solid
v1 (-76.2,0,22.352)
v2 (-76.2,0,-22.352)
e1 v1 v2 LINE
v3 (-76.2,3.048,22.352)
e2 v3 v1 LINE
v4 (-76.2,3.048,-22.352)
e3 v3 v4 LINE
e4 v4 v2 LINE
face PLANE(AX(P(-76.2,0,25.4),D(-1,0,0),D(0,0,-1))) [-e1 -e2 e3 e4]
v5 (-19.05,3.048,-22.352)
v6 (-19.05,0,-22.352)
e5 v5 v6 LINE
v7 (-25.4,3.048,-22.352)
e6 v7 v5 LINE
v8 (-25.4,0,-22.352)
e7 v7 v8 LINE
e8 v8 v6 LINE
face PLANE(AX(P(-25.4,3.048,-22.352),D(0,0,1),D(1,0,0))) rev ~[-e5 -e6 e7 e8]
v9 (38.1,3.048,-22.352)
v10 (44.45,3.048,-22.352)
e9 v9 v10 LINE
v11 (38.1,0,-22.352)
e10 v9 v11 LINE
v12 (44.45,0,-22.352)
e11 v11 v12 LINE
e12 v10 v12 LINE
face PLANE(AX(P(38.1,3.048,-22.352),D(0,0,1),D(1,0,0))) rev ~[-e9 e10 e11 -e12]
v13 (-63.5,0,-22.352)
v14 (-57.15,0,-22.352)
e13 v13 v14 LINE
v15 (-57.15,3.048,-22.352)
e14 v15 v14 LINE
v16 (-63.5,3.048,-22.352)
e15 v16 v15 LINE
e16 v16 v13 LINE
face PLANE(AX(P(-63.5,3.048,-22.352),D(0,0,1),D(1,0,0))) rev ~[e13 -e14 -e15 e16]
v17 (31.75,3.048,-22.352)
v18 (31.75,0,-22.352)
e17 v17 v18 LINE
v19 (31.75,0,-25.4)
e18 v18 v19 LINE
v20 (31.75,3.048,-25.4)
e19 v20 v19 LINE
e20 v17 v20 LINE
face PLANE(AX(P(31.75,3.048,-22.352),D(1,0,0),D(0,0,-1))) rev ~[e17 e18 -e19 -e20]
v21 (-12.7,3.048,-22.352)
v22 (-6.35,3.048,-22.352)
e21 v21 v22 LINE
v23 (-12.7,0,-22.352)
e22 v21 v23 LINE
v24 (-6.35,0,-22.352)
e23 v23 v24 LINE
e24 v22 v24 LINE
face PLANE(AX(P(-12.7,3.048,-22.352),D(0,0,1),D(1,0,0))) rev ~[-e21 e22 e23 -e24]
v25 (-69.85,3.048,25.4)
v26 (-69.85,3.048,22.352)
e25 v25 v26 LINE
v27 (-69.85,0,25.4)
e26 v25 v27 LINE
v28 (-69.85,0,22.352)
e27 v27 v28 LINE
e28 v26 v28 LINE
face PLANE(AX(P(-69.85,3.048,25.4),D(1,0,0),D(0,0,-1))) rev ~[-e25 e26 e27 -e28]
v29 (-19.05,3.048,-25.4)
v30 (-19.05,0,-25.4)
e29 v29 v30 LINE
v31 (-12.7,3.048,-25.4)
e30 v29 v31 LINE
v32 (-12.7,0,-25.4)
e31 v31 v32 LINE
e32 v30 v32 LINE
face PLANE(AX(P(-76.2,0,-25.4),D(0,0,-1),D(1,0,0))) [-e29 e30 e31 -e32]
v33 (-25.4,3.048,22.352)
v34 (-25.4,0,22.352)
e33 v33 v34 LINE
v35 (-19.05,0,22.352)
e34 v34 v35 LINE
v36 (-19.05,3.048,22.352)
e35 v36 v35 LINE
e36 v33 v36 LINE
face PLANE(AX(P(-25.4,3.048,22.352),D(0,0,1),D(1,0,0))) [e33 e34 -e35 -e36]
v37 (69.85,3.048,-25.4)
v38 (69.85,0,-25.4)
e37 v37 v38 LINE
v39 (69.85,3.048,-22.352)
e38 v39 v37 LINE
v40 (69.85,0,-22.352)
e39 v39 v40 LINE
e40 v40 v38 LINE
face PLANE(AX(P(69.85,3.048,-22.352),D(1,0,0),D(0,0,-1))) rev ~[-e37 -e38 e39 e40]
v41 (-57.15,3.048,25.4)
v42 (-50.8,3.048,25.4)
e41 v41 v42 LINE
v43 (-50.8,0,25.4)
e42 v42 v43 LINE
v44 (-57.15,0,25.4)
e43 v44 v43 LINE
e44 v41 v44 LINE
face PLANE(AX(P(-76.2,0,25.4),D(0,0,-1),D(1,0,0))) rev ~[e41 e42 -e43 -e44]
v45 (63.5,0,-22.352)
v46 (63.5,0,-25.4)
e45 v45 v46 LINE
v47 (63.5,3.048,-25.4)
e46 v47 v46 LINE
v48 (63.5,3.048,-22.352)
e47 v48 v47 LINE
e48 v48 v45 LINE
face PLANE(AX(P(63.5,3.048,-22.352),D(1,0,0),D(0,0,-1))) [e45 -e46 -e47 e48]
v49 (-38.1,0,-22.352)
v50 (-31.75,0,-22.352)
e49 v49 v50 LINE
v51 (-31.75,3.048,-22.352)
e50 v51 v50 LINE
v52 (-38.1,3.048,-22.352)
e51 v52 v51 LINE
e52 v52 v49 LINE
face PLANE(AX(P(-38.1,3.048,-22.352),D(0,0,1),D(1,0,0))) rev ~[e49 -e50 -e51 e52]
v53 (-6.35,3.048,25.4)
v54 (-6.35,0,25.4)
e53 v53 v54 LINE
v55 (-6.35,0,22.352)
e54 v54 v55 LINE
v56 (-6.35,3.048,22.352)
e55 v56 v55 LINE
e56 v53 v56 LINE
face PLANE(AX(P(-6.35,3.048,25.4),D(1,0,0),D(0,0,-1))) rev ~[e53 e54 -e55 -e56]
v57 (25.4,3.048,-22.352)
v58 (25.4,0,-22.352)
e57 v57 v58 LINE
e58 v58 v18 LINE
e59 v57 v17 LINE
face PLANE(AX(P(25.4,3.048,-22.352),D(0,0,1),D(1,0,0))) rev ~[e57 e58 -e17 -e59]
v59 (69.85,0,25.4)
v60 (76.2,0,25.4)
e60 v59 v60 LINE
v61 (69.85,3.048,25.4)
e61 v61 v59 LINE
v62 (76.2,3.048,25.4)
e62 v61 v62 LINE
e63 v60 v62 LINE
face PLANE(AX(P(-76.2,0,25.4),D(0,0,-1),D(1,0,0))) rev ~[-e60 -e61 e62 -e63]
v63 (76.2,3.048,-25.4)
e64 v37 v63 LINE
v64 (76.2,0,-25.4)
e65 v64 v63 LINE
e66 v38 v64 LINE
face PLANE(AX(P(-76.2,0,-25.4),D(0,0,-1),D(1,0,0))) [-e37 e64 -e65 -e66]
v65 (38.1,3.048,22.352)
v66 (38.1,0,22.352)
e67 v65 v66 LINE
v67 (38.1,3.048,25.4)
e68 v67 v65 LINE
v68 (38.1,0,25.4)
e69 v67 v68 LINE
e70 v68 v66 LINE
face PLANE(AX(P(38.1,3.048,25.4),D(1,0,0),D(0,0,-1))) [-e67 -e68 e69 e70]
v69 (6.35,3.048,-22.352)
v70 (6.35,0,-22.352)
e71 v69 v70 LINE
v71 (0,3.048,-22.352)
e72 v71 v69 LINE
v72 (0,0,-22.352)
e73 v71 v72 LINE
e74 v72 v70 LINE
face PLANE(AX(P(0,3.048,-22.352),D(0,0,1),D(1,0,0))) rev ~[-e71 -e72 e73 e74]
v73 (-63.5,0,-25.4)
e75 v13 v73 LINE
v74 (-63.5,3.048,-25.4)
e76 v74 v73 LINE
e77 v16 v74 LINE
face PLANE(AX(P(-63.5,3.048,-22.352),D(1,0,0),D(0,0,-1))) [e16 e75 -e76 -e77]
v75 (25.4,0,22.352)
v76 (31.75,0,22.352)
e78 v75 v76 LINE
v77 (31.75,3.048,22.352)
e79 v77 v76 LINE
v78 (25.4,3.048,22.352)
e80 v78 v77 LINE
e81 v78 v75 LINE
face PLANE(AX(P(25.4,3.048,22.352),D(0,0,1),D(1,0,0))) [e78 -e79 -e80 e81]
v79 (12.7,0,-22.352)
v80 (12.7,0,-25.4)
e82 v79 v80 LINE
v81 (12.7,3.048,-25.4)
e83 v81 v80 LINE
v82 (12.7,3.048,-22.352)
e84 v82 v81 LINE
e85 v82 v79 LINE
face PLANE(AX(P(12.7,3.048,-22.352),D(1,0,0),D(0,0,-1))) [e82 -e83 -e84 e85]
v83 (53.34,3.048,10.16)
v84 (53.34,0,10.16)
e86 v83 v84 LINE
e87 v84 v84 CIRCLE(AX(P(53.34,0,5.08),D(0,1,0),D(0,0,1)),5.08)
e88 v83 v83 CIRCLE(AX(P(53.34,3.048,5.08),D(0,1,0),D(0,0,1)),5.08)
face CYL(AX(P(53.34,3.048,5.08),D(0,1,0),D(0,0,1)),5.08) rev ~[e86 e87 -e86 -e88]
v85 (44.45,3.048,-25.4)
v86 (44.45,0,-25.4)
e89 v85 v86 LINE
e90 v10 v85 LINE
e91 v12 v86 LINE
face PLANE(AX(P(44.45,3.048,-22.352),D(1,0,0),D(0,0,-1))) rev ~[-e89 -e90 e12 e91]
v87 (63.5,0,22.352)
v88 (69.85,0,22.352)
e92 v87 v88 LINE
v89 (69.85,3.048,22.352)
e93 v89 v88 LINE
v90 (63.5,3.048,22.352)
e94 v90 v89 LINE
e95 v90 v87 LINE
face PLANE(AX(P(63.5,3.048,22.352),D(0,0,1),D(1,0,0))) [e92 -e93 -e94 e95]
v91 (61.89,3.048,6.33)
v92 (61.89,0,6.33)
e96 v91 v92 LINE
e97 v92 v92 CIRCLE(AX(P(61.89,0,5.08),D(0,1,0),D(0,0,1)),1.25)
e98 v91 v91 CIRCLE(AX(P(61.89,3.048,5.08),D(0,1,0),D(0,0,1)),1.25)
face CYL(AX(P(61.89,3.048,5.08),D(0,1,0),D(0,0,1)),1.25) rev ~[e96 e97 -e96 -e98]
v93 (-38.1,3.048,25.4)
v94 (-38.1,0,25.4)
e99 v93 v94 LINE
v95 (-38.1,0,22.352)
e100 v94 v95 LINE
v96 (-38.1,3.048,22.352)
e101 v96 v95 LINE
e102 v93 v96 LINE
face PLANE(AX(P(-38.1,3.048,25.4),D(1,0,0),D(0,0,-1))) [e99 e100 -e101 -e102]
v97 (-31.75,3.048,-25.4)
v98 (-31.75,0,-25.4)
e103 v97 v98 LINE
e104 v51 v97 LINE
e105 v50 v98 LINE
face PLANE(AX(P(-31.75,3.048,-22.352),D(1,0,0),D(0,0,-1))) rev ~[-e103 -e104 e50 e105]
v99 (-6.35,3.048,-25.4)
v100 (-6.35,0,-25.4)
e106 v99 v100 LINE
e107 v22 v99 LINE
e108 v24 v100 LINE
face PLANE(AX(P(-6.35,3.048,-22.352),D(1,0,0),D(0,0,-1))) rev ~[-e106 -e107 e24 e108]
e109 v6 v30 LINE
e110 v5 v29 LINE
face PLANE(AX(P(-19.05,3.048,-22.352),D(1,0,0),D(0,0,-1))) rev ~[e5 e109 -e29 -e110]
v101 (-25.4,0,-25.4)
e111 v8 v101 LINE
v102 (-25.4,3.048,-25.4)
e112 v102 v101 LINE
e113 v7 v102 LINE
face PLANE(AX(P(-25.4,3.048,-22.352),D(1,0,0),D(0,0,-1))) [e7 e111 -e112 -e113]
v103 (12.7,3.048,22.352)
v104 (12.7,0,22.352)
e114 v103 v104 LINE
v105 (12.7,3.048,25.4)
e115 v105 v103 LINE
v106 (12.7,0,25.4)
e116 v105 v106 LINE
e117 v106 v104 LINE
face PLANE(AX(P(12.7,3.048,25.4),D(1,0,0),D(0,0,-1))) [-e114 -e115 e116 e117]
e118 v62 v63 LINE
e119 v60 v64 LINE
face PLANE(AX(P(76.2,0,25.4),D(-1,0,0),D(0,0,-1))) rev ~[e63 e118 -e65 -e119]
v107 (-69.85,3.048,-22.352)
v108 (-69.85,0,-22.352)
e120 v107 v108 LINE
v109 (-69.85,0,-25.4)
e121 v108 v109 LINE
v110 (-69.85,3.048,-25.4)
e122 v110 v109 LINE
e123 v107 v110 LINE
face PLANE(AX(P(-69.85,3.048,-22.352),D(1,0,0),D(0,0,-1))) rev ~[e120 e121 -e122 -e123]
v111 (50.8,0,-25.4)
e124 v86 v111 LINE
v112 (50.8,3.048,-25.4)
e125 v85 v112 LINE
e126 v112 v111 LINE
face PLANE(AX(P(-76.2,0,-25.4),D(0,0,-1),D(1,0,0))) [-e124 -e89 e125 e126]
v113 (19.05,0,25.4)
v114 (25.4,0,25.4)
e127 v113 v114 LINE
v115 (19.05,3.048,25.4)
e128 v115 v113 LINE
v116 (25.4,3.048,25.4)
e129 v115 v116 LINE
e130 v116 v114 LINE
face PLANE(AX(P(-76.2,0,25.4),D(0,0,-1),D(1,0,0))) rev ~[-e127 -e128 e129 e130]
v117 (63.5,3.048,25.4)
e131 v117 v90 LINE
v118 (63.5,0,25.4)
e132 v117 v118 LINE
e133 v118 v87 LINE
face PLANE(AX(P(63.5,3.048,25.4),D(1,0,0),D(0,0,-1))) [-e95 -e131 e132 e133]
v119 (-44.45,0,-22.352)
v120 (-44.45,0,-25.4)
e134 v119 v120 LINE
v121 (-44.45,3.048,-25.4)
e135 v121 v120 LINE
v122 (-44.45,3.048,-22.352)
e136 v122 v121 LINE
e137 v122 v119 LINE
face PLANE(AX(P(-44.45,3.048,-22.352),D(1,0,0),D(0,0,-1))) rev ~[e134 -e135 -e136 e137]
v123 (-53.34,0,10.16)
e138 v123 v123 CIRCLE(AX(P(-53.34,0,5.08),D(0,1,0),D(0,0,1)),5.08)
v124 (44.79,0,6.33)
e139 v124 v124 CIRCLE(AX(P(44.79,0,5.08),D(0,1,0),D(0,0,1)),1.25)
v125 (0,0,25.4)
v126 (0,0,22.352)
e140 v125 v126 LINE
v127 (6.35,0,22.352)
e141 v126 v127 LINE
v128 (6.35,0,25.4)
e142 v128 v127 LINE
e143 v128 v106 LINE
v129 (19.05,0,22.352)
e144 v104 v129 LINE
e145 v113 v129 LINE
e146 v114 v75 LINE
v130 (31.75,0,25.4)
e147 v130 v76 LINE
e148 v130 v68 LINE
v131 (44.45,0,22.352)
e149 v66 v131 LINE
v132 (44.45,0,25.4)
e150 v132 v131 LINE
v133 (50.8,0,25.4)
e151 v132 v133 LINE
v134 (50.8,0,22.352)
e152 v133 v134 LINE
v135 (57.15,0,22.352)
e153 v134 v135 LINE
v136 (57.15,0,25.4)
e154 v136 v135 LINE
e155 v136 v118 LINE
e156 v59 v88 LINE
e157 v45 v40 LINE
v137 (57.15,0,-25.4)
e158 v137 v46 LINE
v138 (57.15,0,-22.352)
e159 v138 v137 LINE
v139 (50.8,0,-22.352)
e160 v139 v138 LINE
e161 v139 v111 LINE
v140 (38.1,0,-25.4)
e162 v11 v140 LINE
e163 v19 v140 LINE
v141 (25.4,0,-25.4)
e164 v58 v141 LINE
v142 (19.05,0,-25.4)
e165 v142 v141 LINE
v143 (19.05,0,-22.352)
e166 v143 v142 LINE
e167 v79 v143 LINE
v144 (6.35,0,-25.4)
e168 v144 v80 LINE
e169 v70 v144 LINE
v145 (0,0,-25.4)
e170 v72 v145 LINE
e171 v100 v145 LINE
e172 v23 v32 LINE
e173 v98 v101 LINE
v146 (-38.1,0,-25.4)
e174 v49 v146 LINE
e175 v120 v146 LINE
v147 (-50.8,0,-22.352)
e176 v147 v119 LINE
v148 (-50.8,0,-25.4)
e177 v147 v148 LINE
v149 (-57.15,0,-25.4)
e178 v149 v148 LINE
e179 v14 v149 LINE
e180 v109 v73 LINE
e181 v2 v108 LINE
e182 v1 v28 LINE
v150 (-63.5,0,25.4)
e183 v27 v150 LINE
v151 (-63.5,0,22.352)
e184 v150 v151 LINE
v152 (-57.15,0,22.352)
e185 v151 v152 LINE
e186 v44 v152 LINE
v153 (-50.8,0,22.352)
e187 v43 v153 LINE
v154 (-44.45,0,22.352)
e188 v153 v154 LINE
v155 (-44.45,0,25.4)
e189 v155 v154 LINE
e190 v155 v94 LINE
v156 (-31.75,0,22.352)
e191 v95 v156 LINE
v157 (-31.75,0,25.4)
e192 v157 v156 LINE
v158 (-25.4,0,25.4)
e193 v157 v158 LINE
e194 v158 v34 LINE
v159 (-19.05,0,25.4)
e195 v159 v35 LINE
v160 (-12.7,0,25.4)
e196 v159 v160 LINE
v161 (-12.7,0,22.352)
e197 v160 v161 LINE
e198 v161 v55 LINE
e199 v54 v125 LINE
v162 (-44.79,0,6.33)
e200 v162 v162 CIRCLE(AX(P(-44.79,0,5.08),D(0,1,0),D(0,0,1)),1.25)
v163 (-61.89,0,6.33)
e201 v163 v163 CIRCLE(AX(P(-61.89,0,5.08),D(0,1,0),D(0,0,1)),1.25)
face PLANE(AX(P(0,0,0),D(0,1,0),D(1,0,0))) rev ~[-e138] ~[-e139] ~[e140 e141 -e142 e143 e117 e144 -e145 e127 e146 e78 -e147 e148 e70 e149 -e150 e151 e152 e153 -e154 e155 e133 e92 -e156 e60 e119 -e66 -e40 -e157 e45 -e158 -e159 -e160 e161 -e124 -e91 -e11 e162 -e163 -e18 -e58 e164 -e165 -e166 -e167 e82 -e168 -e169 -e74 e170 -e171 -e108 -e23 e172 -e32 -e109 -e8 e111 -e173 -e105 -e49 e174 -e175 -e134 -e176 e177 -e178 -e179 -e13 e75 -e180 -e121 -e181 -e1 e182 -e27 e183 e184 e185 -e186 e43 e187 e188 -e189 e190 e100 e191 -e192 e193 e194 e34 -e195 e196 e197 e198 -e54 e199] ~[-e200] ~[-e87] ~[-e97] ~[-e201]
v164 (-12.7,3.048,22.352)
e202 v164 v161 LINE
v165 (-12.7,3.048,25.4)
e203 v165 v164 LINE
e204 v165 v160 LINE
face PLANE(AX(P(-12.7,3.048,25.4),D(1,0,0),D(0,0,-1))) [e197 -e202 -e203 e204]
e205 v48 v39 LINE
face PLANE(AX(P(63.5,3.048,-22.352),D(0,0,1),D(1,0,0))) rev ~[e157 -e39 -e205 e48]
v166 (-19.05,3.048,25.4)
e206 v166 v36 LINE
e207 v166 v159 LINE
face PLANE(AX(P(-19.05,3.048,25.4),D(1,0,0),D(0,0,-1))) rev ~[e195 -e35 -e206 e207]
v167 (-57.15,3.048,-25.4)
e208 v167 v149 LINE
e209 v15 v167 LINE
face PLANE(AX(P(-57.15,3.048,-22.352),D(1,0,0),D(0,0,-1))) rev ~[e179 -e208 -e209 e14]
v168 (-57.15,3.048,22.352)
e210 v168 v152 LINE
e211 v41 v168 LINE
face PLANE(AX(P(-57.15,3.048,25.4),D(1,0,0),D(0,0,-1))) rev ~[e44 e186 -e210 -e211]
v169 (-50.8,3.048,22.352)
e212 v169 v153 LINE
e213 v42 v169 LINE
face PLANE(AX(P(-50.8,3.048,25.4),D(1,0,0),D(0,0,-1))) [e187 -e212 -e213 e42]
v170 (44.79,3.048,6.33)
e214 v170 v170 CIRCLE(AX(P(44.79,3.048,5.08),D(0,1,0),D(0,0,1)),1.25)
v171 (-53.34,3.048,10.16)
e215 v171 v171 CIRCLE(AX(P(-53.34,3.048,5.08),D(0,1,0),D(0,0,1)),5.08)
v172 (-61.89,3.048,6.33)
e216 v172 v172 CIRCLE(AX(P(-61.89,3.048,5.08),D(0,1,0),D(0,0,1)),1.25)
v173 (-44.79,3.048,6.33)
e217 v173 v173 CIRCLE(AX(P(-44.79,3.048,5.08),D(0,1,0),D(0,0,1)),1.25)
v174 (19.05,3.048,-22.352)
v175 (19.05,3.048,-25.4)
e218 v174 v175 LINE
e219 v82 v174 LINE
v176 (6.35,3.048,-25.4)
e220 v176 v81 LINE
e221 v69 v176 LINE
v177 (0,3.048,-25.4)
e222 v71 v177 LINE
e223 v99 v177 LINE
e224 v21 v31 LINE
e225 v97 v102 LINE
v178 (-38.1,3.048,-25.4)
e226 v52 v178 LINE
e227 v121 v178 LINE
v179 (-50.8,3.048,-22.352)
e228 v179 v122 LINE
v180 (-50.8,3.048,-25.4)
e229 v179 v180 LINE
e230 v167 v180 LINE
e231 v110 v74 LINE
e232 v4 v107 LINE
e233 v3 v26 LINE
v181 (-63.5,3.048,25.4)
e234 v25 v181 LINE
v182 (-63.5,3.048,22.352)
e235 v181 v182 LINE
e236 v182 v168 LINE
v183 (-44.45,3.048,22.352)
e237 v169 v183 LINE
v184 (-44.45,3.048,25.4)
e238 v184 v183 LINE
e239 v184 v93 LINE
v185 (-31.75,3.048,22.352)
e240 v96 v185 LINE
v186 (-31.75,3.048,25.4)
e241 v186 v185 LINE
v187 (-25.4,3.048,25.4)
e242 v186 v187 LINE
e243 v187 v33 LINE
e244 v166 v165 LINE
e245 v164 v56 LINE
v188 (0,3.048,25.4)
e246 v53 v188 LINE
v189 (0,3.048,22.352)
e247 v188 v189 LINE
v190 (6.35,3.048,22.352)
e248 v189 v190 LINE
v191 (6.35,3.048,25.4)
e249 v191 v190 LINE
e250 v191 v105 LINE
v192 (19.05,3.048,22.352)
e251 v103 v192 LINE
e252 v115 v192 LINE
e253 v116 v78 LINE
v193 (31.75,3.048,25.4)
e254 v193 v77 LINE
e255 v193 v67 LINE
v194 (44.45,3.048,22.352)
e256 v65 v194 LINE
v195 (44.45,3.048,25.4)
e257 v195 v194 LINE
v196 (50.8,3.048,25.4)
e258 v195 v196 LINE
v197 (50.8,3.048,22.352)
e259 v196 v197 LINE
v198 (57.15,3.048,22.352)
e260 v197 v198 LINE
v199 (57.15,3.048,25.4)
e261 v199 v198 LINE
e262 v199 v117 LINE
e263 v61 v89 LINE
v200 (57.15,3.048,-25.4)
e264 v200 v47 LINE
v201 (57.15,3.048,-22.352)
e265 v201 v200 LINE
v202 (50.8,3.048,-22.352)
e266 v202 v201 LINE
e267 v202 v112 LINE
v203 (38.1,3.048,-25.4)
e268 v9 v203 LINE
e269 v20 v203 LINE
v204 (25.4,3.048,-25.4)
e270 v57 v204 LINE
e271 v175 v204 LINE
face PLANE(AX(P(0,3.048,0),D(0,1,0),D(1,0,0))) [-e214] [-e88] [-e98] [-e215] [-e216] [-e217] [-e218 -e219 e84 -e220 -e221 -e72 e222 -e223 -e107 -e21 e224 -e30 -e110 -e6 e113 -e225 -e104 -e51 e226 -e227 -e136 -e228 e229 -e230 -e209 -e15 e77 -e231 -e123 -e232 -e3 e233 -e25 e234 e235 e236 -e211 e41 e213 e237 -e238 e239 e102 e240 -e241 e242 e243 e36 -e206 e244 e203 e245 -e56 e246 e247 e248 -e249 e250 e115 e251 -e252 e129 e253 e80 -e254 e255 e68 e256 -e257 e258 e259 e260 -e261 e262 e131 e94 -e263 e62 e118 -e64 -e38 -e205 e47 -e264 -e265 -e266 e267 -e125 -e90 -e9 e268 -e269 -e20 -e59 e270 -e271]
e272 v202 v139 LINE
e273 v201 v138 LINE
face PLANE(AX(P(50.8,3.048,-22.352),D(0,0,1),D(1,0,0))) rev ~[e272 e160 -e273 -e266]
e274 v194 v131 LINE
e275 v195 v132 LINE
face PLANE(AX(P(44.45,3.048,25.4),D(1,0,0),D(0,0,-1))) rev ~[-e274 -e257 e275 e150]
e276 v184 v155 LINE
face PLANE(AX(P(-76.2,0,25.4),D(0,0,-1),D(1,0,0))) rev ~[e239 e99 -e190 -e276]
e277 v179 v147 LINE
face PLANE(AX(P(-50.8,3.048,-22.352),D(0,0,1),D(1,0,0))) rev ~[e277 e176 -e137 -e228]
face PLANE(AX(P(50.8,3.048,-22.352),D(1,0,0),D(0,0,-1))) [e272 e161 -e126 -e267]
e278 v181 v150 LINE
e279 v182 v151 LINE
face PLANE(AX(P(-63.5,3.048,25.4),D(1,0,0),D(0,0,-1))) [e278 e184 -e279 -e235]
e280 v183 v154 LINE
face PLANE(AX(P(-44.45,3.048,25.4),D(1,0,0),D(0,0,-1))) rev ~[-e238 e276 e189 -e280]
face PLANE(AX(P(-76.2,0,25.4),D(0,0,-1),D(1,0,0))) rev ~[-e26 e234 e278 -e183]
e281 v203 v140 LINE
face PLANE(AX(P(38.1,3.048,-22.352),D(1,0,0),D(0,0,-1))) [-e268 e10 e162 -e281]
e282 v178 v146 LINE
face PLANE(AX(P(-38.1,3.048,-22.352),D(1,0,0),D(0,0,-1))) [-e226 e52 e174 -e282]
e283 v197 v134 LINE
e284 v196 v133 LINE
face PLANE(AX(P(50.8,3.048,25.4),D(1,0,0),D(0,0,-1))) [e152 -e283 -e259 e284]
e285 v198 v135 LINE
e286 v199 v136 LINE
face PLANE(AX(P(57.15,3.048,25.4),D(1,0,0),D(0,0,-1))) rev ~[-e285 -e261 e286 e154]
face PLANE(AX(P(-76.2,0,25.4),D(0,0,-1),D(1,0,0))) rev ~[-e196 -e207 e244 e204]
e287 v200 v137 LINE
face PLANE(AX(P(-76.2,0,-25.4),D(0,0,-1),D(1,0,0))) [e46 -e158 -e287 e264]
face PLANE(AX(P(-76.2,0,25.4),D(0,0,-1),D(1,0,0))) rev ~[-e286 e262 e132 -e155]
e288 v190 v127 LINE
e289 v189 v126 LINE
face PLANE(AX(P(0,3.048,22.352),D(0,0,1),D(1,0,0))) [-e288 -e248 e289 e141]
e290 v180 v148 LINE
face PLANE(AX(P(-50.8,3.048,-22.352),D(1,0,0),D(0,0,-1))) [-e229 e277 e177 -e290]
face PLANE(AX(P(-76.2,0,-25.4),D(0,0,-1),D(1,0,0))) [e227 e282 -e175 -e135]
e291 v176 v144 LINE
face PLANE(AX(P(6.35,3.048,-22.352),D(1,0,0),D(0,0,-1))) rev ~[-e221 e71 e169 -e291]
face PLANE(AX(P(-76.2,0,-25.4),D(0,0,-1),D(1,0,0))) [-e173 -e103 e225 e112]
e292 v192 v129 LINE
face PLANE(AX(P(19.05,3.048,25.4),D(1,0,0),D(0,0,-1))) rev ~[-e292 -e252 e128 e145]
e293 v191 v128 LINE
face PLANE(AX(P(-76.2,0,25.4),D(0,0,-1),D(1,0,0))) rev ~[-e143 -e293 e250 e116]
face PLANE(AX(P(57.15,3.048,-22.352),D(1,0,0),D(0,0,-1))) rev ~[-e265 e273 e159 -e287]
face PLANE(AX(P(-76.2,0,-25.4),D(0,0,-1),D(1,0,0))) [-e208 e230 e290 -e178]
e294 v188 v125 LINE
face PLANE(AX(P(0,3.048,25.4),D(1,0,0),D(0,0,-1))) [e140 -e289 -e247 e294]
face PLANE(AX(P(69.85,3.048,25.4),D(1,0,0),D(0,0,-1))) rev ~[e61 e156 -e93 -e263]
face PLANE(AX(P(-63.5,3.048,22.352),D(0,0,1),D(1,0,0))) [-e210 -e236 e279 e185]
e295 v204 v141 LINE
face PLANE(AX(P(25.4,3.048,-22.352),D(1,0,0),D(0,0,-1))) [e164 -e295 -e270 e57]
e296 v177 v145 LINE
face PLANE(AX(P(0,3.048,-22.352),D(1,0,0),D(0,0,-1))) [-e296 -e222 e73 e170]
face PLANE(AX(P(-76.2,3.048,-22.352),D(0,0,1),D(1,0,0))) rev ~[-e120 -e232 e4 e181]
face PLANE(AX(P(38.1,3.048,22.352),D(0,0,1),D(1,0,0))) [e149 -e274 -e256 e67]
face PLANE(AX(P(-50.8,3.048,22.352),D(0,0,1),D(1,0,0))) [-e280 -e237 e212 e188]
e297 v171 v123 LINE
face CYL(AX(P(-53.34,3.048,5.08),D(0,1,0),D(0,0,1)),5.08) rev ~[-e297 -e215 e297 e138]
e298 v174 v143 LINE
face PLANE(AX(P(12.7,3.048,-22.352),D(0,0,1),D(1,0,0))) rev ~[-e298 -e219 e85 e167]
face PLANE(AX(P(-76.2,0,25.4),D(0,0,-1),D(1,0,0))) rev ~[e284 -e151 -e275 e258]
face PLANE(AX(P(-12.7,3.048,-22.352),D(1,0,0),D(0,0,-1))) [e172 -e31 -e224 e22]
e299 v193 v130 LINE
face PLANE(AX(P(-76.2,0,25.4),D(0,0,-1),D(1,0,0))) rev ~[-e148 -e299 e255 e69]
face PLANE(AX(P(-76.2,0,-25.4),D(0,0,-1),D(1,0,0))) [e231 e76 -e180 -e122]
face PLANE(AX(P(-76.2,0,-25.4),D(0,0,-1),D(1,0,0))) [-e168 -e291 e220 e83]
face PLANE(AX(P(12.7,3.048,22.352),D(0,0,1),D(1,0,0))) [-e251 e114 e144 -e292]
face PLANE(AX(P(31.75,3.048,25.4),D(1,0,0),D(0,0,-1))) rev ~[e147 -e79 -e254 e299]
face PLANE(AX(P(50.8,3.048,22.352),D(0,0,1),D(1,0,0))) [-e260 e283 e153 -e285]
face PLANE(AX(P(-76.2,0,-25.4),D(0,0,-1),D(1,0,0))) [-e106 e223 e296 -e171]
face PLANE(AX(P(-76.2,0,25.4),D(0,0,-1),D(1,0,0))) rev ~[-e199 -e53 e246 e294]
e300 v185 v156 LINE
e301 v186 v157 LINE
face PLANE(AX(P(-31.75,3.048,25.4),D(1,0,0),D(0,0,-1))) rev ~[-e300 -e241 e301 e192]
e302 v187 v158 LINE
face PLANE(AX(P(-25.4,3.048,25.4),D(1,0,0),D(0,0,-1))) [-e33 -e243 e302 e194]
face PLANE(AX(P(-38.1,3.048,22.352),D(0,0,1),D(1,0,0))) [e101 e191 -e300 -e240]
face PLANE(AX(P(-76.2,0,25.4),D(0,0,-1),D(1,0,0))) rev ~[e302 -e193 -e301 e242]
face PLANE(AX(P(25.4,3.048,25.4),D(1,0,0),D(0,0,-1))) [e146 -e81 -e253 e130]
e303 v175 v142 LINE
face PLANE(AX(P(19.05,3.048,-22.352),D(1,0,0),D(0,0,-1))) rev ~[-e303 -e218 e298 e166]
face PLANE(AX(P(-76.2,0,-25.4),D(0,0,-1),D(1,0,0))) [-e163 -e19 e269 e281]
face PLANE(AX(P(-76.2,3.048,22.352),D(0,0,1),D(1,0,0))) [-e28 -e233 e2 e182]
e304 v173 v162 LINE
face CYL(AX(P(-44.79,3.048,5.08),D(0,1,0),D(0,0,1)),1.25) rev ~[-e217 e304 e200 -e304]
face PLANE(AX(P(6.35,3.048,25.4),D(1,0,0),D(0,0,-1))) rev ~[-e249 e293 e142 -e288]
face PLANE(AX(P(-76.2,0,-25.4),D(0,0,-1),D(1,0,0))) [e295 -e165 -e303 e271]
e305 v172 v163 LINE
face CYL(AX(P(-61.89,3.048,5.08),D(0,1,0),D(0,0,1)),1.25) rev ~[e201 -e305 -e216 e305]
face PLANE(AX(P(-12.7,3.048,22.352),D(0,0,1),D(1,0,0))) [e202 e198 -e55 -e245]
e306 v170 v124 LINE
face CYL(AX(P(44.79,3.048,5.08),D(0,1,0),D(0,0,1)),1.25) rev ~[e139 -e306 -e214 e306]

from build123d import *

# Parameters (mm, degrees)
SKETCH1_W           = 152.4
SKETCH1_H           = 50.8
BOSS_EXTRUDE1_DEPTH = 3.048
SKETCH2_W           = 6.35
SKETCH2_H           = 3.048
CUT_EXTRUDE1_DEPTH  = 81.379663498
SKETCH4_R           = 1.25
SKETCH4_R_2         = 5.08
CUT_EXTRUDE2_DEPTH  = 81.379663498


with BuildPart() as part:
    # Sketch1 → Boss-Extrude1 (new body)
    with BuildSketch(Plane(origin=(0, 0, 0), x_dir=(1, 0, 0), z_dir=(0, 1, 0))):
        Rectangle(SKETCH1_W, SKETCH1_H)
    extrude(amount=BOSS_EXTRUDE1_DEPTH)

    # Sketch2 → Cut-Extrude1 (cut, through all)
    with BuildSketch(Plane(origin=(0, 3.048, 0), x_dir=(1, 0, 0), z_dir=(0, 1, 0))):
        with Locations((-73.025, 23.876)):
            Rectangle(SKETCH2_W, SKETCH2_H)
        with Locations((-60.325, 23.876)):
            Rectangle(SKETCH2_W, SKETCH2_H)
        with Locations((-47.625, 23.876)):
            Rectangle(SKETCH2_W, SKETCH2_H)
        with Locations((-34.925, 23.876)):
            Rectangle(SKETCH2_W, SKETCH2_H)
        with Locations((-22.225, 23.876)):
            Rectangle(SKETCH2_W, SKETCH2_H)
        with Locations((-9.525, 23.876)):
            Rectangle(SKETCH2_W, SKETCH2_H)
        with Locations((15.875, 23.876)):
            Rectangle(SKETCH2_W, SKETCH2_H)
        with Locations((3.175, 23.876)):
            Rectangle(SKETCH2_W, SKETCH2_H)
        with Locations((28.575, 23.876)):
            Rectangle(SKETCH2_W, SKETCH2_H)
        with Locations((41.275, 23.876)):
            Rectangle(SKETCH2_W, SKETCH2_H)
        with Locations((53.975, 23.876)):
            Rectangle(SKETCH2_W, SKETCH2_H)
        with Locations((66.675, 23.876)):
            Rectangle(SKETCH2_W, SKETCH2_H)
        with Locations((-73.025, -23.876)):
            Rectangle(SKETCH2_W, SKETCH2_H)
        with Locations((-60.325, -23.876)):
            Rectangle(SKETCH2_W, SKETCH2_H)
        with Locations((-47.625, -23.876)):
            Rectangle(SKETCH2_W, SKETCH2_H)
        with Locations((-34.925, -23.876)):
            Rectangle(SKETCH2_W, SKETCH2_H)
        with Locations((-22.225, -23.876)):
            Rectangle(SKETCH2_W, SKETCH2_H)
        with Locations((-9.525, -23.876)):
            Rectangle(SKETCH2_W, SKETCH2_H)
        with Locations((3.175, -23.876)):
            Rectangle(SKETCH2_W, SKETCH2_H)
        with Locations((15.875, -23.876)):
            Rectangle(SKETCH2_W, SKETCH2_H)
        with Locations((28.575, -23.876)):
            Rectangle(SKETCH2_W, SKETCH2_H)
        with Locations((41.275, -23.876)):
            Rectangle(SKETCH2_W, SKETCH2_H)
        with Locations((53.975, -23.876)):
            Rectangle(SKETCH2_W, SKETCH2_H)
        with Locations((66.675, -23.876)):
            Rectangle(SKETCH2_W, SKETCH2_H)
    extrude(amount=-CUT_EXTRUDE1_DEPTH, mode=Mode.SUBTRACT)

    # Sketch4 → Cut-Extrude2 (cut, through all)
    with BuildSketch(Plane(origin=(0, 3.048, 0), x_dir=(1, 0, 0), z_dir=(0, 1, 0))):
        with Locations(Location((-61.89, -5.08, 0), (0, 0, 270))):
            Circle(SKETCH4_R)
        with Locations(Location((-44.79, -5.08, 0), (0, 0, 270))):
            Circle(SKETCH4_R)
        with Locations(Location((-53.34, -5.08, 0), (0, 0, 270))):
            Circle(SKETCH4_R_2)
        with Locations(Location((44.79, -5.08, 0), (0, 0, 270))):
            Circle(SKETCH4_R)
        with Locations(Location((53.34, -5.08, 0), (0, 0, 270))):
            Circle(SKETCH4_R_2)
        with Locations(Location((61.89, -5.08, 0), (0, 0, 270))):
            Circle(SKETCH4_R)
    extrude(amount=-CUT_EXTRUDE2_DEPTH, mode=Mode.SUBTRACT)


solid = part.part
